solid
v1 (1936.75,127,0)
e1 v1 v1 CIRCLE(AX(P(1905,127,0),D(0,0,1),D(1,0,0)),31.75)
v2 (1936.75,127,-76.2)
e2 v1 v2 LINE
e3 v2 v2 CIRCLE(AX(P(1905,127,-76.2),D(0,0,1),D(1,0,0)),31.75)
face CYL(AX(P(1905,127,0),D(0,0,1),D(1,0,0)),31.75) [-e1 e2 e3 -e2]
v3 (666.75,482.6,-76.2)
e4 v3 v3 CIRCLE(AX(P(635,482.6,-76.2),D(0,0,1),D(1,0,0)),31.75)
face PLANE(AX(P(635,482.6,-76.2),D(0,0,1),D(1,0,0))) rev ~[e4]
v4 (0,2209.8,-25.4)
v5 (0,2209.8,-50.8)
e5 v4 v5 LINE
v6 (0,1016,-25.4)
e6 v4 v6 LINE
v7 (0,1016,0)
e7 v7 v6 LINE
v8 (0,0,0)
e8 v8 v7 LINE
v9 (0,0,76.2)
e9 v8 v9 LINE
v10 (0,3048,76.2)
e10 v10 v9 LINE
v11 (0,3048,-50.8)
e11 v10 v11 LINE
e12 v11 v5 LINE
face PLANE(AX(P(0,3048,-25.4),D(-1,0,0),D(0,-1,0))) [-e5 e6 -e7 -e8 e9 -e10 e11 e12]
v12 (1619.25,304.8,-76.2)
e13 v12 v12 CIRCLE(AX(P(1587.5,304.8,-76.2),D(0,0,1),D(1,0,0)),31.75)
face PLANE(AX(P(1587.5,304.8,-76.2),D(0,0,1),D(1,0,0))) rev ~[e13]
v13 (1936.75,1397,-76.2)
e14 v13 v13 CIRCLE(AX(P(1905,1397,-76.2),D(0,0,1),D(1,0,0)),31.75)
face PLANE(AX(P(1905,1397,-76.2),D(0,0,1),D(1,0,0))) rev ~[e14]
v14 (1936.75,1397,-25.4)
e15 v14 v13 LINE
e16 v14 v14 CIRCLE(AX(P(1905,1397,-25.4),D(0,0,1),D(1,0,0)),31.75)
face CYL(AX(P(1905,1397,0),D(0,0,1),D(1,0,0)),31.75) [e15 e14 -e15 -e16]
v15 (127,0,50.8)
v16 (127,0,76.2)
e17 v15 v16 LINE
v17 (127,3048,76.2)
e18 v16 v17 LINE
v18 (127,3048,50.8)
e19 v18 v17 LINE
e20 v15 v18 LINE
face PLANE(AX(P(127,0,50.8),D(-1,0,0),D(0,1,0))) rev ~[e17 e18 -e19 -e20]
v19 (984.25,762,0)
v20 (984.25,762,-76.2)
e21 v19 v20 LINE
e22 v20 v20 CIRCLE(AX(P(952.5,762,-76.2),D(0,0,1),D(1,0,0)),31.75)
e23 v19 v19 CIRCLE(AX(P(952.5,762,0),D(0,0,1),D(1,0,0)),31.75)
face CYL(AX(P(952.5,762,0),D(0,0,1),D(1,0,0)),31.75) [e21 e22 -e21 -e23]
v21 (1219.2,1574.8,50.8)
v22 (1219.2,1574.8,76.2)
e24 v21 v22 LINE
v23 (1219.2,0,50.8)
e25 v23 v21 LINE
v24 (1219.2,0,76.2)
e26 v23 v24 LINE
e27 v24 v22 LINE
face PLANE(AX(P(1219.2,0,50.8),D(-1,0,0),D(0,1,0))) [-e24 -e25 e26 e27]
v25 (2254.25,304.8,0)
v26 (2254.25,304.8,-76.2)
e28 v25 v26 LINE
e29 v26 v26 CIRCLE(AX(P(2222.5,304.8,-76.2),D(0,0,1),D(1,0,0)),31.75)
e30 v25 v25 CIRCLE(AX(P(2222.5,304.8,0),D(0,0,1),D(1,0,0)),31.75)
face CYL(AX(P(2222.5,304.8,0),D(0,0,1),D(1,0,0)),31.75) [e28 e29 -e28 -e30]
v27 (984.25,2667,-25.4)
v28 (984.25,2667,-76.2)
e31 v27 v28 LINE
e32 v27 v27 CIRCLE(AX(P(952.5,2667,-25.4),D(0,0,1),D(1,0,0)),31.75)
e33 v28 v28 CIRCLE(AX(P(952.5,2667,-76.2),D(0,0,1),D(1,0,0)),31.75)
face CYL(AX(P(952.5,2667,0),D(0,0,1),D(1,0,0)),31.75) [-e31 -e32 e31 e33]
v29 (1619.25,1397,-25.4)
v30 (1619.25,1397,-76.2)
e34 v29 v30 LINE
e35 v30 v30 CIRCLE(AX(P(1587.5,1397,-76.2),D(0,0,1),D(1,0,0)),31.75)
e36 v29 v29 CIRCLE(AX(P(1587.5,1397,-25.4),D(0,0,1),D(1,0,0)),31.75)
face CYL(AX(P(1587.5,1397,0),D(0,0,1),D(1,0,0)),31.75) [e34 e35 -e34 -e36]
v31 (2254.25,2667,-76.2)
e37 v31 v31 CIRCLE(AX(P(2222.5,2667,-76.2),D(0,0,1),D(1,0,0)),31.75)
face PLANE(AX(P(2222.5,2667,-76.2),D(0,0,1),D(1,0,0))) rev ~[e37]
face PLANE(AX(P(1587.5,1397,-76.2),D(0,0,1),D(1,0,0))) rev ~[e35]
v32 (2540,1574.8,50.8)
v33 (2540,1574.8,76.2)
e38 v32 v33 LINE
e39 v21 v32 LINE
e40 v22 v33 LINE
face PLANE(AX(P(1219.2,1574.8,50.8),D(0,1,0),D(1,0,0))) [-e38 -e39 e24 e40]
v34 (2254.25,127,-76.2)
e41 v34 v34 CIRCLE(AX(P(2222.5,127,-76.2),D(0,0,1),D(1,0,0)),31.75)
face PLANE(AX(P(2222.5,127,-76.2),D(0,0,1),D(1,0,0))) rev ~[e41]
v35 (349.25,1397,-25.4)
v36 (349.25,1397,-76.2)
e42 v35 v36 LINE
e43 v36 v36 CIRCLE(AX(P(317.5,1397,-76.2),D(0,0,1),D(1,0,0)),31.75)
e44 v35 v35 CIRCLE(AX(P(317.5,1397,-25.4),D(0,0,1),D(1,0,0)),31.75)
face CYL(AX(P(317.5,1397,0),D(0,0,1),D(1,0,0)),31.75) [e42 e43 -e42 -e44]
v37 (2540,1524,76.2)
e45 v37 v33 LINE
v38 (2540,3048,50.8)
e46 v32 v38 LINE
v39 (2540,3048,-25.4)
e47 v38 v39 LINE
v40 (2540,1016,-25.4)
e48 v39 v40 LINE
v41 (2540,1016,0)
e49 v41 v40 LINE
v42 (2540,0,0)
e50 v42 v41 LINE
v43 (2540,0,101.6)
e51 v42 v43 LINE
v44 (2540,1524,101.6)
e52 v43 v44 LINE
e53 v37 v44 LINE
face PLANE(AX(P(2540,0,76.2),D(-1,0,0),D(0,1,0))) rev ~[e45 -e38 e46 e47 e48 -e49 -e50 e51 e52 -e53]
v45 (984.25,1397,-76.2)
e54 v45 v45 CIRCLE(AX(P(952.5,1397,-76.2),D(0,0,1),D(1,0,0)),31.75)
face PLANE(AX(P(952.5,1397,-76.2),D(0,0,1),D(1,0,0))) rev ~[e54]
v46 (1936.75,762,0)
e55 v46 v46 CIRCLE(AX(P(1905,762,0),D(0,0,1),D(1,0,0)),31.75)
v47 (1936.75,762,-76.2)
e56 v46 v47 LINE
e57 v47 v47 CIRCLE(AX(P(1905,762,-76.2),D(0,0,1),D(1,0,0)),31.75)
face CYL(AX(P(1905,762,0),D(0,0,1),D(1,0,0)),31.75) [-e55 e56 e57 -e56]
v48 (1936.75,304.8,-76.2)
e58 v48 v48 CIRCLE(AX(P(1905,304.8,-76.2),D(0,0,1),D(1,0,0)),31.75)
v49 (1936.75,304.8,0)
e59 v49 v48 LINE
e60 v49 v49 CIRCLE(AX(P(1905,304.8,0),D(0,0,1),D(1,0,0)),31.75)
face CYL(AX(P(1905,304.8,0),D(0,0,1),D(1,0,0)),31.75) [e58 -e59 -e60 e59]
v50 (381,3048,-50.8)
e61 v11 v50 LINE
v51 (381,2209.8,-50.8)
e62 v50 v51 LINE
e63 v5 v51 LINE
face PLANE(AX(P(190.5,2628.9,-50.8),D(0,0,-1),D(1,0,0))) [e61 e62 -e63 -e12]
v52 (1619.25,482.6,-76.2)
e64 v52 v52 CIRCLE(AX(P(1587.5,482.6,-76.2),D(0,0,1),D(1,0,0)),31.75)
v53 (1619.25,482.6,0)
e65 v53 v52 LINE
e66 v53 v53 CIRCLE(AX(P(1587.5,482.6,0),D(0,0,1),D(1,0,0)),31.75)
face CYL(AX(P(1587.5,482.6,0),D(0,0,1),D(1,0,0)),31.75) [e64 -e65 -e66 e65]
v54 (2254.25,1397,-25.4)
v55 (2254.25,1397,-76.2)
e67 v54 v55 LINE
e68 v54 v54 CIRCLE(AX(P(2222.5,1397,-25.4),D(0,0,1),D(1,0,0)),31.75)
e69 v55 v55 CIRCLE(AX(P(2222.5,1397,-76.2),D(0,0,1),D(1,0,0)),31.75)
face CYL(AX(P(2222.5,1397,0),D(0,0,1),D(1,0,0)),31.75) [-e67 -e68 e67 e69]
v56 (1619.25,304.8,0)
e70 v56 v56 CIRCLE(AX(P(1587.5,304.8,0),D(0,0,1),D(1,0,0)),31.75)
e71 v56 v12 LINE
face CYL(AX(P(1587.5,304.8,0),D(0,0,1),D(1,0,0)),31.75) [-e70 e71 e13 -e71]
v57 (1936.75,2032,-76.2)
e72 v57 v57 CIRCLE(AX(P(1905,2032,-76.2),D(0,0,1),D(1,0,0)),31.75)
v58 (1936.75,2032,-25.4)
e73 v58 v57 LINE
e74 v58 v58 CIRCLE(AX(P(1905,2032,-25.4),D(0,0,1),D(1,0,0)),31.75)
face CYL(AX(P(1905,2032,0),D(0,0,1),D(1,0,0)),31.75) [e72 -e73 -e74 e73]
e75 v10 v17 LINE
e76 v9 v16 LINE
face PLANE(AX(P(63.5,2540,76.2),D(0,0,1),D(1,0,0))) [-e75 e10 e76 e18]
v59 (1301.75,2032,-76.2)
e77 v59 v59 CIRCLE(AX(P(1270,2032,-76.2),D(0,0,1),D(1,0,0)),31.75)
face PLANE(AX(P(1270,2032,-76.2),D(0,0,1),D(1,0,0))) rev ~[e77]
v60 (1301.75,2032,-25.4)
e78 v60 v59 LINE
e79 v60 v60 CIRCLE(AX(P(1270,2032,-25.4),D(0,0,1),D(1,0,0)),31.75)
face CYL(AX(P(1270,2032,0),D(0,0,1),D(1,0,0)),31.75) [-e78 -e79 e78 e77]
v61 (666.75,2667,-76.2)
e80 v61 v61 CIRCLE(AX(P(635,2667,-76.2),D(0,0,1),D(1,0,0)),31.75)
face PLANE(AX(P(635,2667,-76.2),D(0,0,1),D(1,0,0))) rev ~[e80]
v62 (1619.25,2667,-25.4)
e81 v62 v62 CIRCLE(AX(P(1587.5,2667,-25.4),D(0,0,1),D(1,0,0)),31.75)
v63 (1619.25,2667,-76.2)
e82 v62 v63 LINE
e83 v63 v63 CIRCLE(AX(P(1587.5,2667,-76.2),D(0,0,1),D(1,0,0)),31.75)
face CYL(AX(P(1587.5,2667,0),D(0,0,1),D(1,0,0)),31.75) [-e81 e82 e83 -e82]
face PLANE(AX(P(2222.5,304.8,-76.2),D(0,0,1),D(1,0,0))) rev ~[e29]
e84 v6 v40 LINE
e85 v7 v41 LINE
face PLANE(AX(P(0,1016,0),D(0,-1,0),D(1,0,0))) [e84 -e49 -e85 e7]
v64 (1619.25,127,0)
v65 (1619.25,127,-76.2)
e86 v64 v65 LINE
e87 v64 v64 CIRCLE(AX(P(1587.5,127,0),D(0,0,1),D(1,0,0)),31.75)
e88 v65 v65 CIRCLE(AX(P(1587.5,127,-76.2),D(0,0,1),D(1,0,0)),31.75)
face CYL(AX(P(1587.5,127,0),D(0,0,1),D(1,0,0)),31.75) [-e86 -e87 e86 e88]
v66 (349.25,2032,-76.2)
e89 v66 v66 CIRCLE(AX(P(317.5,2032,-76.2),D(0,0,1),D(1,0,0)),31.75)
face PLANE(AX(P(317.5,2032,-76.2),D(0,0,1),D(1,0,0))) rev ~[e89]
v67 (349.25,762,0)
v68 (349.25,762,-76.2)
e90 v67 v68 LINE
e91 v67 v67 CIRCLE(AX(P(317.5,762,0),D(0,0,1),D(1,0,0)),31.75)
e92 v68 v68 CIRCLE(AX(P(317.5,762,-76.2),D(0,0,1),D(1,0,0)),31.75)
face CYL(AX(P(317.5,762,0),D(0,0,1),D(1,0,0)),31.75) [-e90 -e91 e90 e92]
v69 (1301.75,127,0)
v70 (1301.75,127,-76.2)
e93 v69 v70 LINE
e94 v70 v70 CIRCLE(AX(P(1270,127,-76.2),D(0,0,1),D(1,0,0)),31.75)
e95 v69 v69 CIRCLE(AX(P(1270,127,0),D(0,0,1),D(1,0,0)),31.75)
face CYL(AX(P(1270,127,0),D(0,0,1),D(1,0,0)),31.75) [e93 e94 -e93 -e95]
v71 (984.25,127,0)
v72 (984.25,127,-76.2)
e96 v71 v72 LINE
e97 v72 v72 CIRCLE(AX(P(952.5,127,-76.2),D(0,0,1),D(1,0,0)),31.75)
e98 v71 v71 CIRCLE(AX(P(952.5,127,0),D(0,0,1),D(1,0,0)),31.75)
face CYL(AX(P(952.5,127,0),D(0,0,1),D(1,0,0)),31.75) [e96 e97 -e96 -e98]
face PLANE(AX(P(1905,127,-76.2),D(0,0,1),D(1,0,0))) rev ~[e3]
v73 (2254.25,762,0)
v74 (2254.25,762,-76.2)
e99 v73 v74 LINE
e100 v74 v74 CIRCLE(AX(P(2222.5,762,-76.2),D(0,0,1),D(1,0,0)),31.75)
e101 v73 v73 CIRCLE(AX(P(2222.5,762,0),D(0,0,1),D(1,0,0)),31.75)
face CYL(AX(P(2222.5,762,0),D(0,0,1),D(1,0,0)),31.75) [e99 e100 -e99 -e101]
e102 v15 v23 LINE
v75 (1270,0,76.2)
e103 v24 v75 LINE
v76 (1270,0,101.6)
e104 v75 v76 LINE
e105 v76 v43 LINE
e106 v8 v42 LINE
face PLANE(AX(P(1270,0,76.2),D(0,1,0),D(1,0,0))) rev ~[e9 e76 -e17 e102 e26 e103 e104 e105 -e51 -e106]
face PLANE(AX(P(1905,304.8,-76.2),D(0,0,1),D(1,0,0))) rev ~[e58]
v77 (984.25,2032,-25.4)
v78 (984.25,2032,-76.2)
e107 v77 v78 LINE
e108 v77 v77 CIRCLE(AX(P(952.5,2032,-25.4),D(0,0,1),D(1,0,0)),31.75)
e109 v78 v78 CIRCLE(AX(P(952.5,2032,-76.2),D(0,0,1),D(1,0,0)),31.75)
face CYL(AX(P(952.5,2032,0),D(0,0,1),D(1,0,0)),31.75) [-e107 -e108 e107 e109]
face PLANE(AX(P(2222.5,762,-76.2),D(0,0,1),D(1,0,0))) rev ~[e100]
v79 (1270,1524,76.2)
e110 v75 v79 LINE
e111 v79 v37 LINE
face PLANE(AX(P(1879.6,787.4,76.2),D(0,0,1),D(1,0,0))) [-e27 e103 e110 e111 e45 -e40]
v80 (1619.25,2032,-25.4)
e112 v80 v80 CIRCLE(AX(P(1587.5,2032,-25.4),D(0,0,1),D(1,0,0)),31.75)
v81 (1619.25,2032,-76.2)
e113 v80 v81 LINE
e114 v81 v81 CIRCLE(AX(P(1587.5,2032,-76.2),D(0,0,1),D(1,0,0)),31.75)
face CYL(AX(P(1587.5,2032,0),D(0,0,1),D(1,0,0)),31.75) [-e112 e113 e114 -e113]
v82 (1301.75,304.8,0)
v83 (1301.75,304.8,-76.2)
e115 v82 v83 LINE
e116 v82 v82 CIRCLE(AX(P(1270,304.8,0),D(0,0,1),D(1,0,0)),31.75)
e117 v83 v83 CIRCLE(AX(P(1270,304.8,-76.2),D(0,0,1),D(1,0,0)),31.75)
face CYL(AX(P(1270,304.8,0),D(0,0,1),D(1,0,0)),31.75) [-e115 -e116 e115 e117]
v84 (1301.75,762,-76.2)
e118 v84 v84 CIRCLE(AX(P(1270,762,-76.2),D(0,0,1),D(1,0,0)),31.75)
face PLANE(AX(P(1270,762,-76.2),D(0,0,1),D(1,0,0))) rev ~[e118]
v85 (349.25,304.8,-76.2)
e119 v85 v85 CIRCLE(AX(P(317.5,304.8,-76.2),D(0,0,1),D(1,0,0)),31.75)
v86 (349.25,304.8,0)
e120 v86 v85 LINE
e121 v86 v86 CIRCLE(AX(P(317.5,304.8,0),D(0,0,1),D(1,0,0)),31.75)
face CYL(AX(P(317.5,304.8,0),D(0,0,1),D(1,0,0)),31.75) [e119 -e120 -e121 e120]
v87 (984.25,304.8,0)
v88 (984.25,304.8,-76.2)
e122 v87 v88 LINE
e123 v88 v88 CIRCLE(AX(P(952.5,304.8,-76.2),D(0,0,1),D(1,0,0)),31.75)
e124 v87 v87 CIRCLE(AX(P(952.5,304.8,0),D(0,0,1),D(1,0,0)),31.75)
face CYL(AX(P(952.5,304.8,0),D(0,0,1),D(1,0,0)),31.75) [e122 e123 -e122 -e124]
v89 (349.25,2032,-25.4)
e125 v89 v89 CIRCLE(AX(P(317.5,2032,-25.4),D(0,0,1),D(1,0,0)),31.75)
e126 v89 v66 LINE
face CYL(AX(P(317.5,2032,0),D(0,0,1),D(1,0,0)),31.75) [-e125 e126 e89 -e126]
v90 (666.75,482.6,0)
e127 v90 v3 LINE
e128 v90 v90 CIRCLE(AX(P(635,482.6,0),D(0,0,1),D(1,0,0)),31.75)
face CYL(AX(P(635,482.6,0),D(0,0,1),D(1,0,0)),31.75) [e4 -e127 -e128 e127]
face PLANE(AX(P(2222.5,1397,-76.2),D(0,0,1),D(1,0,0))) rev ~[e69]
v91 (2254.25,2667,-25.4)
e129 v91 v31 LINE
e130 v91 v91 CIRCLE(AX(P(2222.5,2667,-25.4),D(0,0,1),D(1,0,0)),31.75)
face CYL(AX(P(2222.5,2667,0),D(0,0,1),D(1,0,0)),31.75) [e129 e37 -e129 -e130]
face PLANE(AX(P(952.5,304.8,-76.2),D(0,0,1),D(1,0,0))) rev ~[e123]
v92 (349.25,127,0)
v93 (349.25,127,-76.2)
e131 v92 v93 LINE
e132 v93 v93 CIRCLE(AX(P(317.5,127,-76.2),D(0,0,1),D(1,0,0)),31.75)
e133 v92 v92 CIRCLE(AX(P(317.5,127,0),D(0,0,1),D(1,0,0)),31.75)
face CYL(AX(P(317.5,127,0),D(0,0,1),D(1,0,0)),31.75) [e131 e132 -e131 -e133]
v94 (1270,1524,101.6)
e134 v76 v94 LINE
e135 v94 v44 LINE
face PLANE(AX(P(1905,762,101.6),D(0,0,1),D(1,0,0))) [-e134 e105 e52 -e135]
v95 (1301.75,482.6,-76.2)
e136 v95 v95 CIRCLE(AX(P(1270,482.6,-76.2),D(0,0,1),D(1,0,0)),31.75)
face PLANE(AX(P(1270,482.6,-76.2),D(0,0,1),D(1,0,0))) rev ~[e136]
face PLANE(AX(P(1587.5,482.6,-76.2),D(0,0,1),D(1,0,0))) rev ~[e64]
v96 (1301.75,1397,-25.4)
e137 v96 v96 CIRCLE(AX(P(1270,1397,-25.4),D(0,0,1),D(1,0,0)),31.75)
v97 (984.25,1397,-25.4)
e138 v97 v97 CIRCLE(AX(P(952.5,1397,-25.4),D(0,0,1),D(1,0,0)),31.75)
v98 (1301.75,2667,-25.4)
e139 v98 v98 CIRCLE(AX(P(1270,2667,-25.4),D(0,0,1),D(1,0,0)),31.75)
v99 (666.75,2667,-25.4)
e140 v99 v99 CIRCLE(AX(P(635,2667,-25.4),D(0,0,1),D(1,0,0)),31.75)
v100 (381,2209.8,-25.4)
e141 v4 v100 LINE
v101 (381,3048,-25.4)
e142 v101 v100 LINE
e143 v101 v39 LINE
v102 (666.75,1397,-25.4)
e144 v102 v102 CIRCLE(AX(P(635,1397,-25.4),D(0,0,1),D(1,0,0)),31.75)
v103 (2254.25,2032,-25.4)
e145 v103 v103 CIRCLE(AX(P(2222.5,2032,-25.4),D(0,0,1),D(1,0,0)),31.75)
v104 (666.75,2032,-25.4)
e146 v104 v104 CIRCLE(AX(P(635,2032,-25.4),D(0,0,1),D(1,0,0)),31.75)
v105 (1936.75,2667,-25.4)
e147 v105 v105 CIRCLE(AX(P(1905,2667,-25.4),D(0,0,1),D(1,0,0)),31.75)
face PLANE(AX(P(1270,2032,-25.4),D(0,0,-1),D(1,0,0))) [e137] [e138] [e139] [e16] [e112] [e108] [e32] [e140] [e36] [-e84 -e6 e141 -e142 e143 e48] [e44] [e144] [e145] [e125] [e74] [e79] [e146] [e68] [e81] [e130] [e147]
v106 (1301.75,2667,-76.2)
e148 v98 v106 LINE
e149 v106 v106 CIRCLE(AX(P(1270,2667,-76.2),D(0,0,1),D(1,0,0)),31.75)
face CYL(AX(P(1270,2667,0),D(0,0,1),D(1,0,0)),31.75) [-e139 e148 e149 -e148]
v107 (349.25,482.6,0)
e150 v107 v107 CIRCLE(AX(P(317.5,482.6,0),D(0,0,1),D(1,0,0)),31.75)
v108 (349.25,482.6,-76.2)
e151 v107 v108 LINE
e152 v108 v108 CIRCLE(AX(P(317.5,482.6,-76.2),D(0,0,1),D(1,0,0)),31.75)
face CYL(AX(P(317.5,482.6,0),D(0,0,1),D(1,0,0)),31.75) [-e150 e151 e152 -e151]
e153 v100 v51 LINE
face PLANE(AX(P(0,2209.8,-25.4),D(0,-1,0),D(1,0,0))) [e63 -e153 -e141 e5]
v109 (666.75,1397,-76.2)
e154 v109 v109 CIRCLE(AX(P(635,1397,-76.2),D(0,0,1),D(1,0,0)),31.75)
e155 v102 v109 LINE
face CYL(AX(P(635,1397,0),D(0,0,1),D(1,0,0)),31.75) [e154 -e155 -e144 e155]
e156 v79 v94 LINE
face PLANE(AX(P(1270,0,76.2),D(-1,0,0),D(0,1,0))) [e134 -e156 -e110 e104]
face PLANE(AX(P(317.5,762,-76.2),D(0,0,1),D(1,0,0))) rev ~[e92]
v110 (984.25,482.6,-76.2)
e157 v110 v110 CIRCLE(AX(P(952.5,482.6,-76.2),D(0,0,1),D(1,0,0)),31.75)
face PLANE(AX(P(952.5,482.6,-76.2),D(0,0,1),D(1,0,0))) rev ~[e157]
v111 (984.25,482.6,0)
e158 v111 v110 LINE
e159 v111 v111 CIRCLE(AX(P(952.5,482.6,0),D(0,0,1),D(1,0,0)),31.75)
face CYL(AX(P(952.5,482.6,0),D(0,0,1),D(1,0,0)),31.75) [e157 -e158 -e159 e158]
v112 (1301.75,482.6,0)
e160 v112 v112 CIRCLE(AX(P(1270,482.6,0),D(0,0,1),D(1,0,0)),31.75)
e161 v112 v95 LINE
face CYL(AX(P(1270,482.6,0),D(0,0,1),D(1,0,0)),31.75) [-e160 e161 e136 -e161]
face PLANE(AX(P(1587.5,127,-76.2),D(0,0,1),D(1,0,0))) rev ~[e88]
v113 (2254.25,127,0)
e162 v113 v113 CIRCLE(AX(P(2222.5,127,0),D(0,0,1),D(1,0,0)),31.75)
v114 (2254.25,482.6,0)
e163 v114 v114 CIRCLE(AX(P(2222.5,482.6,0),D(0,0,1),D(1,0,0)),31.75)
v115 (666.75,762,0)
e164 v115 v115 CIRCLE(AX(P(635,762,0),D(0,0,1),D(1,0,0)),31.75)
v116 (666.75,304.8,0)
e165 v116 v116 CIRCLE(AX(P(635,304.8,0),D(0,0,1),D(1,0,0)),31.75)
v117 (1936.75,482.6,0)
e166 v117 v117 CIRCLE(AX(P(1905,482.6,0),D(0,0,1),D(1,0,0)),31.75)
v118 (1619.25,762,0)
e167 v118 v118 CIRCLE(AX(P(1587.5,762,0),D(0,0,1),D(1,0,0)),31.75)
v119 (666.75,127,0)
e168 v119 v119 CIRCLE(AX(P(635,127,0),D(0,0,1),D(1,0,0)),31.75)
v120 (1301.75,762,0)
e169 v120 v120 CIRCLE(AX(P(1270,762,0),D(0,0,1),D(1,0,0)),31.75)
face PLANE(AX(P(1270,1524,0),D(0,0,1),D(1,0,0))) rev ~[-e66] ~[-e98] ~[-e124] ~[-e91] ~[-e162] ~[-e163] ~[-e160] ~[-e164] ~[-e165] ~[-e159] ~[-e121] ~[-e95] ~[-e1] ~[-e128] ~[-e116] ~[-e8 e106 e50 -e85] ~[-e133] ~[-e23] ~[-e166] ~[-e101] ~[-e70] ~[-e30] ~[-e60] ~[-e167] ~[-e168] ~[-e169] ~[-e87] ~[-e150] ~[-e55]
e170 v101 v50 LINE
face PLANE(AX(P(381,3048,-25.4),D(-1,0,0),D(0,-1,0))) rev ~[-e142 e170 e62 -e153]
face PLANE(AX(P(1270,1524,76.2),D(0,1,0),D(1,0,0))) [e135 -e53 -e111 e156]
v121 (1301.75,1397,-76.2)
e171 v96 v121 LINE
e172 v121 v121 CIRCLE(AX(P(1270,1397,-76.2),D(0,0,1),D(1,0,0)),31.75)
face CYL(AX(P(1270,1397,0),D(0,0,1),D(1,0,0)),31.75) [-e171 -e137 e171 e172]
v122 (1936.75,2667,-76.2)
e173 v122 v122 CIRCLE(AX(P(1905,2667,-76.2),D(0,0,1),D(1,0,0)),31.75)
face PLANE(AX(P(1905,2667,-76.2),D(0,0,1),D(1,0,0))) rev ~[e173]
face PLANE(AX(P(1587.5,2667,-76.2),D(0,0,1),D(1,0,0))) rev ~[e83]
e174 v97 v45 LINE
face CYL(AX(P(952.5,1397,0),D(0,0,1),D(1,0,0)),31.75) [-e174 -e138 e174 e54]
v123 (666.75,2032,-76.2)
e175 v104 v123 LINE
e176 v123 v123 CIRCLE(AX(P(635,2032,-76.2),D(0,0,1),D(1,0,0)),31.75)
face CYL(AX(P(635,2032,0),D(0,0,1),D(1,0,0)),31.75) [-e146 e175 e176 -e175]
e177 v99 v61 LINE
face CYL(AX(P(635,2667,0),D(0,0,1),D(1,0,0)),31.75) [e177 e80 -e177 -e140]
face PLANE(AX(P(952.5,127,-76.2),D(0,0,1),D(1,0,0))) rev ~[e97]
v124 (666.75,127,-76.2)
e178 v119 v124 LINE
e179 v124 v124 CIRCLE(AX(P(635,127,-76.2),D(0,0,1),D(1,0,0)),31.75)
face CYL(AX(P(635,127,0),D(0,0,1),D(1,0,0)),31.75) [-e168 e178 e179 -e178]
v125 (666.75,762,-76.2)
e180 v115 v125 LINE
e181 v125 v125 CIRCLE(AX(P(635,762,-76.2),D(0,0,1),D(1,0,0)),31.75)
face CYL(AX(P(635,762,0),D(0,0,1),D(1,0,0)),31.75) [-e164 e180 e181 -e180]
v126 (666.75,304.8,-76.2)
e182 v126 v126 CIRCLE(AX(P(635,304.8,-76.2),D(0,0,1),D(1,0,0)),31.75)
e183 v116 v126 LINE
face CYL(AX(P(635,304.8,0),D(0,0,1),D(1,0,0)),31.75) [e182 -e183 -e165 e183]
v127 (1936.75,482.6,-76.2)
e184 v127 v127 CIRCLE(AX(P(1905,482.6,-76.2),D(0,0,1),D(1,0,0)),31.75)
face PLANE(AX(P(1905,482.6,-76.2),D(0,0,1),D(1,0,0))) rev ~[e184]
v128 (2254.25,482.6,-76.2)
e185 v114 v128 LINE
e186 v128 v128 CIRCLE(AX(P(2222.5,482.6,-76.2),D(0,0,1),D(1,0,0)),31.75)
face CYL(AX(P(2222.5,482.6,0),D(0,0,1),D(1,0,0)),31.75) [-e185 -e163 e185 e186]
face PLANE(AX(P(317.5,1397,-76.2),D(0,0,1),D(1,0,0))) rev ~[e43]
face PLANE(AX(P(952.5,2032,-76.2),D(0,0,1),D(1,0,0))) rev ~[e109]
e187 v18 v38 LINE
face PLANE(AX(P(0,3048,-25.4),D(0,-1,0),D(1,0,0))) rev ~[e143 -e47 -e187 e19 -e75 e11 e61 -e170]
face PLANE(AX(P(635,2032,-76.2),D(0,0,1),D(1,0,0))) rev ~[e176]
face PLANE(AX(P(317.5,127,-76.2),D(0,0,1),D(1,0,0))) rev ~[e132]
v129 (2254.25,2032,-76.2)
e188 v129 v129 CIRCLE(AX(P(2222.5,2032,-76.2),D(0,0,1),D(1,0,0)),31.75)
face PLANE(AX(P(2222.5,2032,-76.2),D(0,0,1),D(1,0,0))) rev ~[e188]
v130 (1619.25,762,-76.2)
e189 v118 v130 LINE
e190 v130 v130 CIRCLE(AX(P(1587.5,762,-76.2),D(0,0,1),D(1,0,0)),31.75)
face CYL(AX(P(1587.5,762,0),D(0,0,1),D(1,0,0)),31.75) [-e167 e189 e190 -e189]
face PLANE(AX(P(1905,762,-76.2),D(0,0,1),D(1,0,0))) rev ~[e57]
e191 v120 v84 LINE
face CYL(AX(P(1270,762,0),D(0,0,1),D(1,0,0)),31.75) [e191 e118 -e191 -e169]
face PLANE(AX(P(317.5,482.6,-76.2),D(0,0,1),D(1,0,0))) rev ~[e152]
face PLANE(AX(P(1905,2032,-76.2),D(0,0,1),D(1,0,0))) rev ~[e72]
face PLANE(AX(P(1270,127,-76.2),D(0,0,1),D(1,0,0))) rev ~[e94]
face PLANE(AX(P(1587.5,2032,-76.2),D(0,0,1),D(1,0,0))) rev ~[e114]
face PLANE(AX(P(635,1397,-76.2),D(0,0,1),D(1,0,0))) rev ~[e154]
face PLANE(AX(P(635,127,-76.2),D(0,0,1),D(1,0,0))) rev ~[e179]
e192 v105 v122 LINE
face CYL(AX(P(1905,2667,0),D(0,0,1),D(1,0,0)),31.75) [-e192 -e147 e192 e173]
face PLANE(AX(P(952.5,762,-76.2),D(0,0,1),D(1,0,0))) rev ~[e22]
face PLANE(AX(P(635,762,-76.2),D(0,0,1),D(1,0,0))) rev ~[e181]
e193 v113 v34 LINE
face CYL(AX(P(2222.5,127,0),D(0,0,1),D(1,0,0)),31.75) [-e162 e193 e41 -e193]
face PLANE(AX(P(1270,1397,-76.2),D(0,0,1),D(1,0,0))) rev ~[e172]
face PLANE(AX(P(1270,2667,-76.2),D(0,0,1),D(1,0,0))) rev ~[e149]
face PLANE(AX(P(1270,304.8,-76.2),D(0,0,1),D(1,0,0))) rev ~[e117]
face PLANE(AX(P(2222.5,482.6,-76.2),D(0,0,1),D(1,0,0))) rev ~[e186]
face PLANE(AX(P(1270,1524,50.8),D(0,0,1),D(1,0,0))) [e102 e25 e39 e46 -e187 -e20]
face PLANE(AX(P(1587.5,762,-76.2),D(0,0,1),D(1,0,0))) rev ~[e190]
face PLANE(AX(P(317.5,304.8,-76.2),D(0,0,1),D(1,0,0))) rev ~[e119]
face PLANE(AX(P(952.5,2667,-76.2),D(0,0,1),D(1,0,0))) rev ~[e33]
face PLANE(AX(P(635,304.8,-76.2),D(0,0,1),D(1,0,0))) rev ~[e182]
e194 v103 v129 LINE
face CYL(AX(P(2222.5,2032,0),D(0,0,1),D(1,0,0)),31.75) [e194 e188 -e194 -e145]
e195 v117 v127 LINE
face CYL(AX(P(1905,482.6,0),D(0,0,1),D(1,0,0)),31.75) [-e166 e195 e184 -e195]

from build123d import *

# Parameters (mm, degrees)
F0_W      = 2540
F0_H      = 3048
F1_DEPTH  = 25.4
F1_FACE_W = 2540
F1_FACE_H = 3048
F2_DEPTH  = 25.4
F3_W      = 127
F3_H      = 1016
F3_H_2    = 2032
F3_W_2    = 1320.8
F3_H_3    = 1574.8
F4_DEPTH  = 25.4
F5_W      = 2540
F5_H      = 2032
F6_DEPTH  = 25.4
F7_W      = 381
F7_H      = 838.2
F8_DEPTH  = 25.4
F9_W      = 1270
F9_H      = 1524
F10_DEPTH = 25.4
F11_R     = 31.75
F12_DEPTH = 76.2


with BuildPart() as f1:
    # F0 (on Top) → F1 (new body)
    with BuildSketch(Plane.XY):
        with Locations((1270, 1524)):
            Rectangle(F0_W, F0_H)
    extrude(amount=F1_DEPTH)

    # F1_face (on face) → F2 (join)
    with BuildSketch(Plane(origin=(1270, 1524, 25.4), x_dir=(1, 0, 0), z_dir=(0, 0, 1))):
        Rectangle(F1_FACE_W, F1_FACE_H)
    extrude(amount=F2_DEPTH)

    # F3 (on face) → F4 (join)
    with BuildSketch(Plane.XY.offset(50.8)):
        with Locations((63.5, 2540)):
            Rectangle(F3_W, F3_H)
        with Locations((63.5, 1016)):
            Rectangle(F3_W, F3_H_2)
        with Locations((1879.6, 787.4)):
            Rectangle(F3_W_2, F3_H_3)
    extrude(amount=F4_DEPTH)

    # F5 (on face) → F6 (join)
    with BuildSketch(Plane(origin=(0, 0, 0), x_dir=(1, 0, 0), z_dir=(0, 0, -1))):
        with Locations((1270, -2032)):
            Rectangle(F5_W, F5_H)
    extrude(amount=F6_DEPTH)

    # F7 (on face) → F8 (join)
    with BuildSketch(Plane(origin=(0, 0, -25.4), x_dir=(1, 0, 0), z_dir=(0, 0, -1))):
        with Locations((190.5, -2628.9)):
            Rectangle(F7_W, F7_H)
    extrude(amount=F8_DEPTH)

    # F9 (on face) → F10 (join)
    with BuildSketch(Plane.XY.offset(76.2)):
        with Locations((1905, 762)):
            Rectangle(F9_W, F9_H)
    extrude(amount=F10_DEPTH)

    # F11 (on Top) → F12 (join)
    with BuildSketch(Plane.XY):
        with Locations((2222.5, 2667)):
            Circle(F11_R)
        with Locations((2222.5, 2032)):
            Circle(F11_R)
        with Locations((2222.5, 1397)):
            Circle(F11_R)
        with Locations((2222.5, 762)):
            Circle(F11_R)
        with Locations((1905, 2667)):
            Circle(F11_R)
        with Locations((1905, 2032)):
            Circle(F11_R)
        with Locations((1905, 1397)):
            Circle(F11_R)
        with Locations((1905, 762)):
            Circle(F11_R)
        with Locations((1587.5, 2667)):
            Circle(F11_R)
        with Locations((1587.5, 2032)):
            Circle(F11_R)
        with Locations((1587.5, 1397)):
            Circle(F11_R)
        with Locations((1587.5, 762)):
            Circle(F11_R)
        with Locations((1270, 2667)):
            Circle(F11_R)
        with Locations((1270, 2032)):
            Circle(F11_R)
        with Locations((1270, 1397)):
            Circle(F11_R)
        with Locations((1270, 762)):
            Circle(F11_R)
        with Locations((952.5, 2667)):
            Circle(F11_R)
        with Locations((952.5, 2032)):
            Circle(F11_R)
        with Locations((952.5, 1397)):
            Circle(F11_R)
        with Locations((952.5, 762)):
            Circle(F11_R)
        with Locations((635, 2667)):
            Circle(F11_R)
        with Locations((635, 2032)):
            Circle(F11_R)
        with Locations((635, 1397)):
            Circle(F11_R)
        with Locations((635, 762)):
            Circle(F11_R)
        with Locations((317.5, 2032)):
            Circle(F11_R)
        with Locations((317.5, 1397)):
            Circle(F11_R)
        with Locations((317.5, 762)):
            Circle(F11_R)
        with Locations((317.5, 127)):
            Circle(F11_R)
        with Locations((317.5, 304.8)):
            Circle(F11_R)
        with Locations((317.5, 482.6)):
            Circle(F11_R)
        with Locations((635, 127)):
            Circle(F11_R)
        with Locations((635, 304.8)):
            Circle(F11_R)
        with Locations((635, 482.6)):
            Circle(F11_R)
        with Locations((952.5, 127)):
            Circle(F11_R)
        with Locations((952.5, 304.8)):
            Circle(F11_R)
        with Locations((952.5, 482.6)):
            Circle(F11_R)
        with Locations((1270, 127)):
            Circle(F11_R)
        with Locations((1270, 304.8)):
            Circle(F11_R)
        with Locations((1270, 482.6)):
            Circle(F11_R)
        with Locations((1587.5, 127)):
            Circle(F11_R)
        with Locations((1587.5, 304.8)):
            Circle(F11_R)
        with Locations((1587.5, 482.6)):
            Circle(F11_R)
        with Locations((1905, 127)):
            Circle(F11_R)
        with Locations((1905, 304.8)):
            Circle(F11_R)
        with Locations((1905, 482.6)):
            Circle(F11_R)
        with Locations((2222.5, 127)):
            Circle(F11_R)
        with Locations((2222.5, 304.8)):
            Circle(F11_R)
        with Locations((2222.5, 482.6)):
            Circle(F11_R)
    extrude(amount=-F12_DEPTH)


solid = f1.part
